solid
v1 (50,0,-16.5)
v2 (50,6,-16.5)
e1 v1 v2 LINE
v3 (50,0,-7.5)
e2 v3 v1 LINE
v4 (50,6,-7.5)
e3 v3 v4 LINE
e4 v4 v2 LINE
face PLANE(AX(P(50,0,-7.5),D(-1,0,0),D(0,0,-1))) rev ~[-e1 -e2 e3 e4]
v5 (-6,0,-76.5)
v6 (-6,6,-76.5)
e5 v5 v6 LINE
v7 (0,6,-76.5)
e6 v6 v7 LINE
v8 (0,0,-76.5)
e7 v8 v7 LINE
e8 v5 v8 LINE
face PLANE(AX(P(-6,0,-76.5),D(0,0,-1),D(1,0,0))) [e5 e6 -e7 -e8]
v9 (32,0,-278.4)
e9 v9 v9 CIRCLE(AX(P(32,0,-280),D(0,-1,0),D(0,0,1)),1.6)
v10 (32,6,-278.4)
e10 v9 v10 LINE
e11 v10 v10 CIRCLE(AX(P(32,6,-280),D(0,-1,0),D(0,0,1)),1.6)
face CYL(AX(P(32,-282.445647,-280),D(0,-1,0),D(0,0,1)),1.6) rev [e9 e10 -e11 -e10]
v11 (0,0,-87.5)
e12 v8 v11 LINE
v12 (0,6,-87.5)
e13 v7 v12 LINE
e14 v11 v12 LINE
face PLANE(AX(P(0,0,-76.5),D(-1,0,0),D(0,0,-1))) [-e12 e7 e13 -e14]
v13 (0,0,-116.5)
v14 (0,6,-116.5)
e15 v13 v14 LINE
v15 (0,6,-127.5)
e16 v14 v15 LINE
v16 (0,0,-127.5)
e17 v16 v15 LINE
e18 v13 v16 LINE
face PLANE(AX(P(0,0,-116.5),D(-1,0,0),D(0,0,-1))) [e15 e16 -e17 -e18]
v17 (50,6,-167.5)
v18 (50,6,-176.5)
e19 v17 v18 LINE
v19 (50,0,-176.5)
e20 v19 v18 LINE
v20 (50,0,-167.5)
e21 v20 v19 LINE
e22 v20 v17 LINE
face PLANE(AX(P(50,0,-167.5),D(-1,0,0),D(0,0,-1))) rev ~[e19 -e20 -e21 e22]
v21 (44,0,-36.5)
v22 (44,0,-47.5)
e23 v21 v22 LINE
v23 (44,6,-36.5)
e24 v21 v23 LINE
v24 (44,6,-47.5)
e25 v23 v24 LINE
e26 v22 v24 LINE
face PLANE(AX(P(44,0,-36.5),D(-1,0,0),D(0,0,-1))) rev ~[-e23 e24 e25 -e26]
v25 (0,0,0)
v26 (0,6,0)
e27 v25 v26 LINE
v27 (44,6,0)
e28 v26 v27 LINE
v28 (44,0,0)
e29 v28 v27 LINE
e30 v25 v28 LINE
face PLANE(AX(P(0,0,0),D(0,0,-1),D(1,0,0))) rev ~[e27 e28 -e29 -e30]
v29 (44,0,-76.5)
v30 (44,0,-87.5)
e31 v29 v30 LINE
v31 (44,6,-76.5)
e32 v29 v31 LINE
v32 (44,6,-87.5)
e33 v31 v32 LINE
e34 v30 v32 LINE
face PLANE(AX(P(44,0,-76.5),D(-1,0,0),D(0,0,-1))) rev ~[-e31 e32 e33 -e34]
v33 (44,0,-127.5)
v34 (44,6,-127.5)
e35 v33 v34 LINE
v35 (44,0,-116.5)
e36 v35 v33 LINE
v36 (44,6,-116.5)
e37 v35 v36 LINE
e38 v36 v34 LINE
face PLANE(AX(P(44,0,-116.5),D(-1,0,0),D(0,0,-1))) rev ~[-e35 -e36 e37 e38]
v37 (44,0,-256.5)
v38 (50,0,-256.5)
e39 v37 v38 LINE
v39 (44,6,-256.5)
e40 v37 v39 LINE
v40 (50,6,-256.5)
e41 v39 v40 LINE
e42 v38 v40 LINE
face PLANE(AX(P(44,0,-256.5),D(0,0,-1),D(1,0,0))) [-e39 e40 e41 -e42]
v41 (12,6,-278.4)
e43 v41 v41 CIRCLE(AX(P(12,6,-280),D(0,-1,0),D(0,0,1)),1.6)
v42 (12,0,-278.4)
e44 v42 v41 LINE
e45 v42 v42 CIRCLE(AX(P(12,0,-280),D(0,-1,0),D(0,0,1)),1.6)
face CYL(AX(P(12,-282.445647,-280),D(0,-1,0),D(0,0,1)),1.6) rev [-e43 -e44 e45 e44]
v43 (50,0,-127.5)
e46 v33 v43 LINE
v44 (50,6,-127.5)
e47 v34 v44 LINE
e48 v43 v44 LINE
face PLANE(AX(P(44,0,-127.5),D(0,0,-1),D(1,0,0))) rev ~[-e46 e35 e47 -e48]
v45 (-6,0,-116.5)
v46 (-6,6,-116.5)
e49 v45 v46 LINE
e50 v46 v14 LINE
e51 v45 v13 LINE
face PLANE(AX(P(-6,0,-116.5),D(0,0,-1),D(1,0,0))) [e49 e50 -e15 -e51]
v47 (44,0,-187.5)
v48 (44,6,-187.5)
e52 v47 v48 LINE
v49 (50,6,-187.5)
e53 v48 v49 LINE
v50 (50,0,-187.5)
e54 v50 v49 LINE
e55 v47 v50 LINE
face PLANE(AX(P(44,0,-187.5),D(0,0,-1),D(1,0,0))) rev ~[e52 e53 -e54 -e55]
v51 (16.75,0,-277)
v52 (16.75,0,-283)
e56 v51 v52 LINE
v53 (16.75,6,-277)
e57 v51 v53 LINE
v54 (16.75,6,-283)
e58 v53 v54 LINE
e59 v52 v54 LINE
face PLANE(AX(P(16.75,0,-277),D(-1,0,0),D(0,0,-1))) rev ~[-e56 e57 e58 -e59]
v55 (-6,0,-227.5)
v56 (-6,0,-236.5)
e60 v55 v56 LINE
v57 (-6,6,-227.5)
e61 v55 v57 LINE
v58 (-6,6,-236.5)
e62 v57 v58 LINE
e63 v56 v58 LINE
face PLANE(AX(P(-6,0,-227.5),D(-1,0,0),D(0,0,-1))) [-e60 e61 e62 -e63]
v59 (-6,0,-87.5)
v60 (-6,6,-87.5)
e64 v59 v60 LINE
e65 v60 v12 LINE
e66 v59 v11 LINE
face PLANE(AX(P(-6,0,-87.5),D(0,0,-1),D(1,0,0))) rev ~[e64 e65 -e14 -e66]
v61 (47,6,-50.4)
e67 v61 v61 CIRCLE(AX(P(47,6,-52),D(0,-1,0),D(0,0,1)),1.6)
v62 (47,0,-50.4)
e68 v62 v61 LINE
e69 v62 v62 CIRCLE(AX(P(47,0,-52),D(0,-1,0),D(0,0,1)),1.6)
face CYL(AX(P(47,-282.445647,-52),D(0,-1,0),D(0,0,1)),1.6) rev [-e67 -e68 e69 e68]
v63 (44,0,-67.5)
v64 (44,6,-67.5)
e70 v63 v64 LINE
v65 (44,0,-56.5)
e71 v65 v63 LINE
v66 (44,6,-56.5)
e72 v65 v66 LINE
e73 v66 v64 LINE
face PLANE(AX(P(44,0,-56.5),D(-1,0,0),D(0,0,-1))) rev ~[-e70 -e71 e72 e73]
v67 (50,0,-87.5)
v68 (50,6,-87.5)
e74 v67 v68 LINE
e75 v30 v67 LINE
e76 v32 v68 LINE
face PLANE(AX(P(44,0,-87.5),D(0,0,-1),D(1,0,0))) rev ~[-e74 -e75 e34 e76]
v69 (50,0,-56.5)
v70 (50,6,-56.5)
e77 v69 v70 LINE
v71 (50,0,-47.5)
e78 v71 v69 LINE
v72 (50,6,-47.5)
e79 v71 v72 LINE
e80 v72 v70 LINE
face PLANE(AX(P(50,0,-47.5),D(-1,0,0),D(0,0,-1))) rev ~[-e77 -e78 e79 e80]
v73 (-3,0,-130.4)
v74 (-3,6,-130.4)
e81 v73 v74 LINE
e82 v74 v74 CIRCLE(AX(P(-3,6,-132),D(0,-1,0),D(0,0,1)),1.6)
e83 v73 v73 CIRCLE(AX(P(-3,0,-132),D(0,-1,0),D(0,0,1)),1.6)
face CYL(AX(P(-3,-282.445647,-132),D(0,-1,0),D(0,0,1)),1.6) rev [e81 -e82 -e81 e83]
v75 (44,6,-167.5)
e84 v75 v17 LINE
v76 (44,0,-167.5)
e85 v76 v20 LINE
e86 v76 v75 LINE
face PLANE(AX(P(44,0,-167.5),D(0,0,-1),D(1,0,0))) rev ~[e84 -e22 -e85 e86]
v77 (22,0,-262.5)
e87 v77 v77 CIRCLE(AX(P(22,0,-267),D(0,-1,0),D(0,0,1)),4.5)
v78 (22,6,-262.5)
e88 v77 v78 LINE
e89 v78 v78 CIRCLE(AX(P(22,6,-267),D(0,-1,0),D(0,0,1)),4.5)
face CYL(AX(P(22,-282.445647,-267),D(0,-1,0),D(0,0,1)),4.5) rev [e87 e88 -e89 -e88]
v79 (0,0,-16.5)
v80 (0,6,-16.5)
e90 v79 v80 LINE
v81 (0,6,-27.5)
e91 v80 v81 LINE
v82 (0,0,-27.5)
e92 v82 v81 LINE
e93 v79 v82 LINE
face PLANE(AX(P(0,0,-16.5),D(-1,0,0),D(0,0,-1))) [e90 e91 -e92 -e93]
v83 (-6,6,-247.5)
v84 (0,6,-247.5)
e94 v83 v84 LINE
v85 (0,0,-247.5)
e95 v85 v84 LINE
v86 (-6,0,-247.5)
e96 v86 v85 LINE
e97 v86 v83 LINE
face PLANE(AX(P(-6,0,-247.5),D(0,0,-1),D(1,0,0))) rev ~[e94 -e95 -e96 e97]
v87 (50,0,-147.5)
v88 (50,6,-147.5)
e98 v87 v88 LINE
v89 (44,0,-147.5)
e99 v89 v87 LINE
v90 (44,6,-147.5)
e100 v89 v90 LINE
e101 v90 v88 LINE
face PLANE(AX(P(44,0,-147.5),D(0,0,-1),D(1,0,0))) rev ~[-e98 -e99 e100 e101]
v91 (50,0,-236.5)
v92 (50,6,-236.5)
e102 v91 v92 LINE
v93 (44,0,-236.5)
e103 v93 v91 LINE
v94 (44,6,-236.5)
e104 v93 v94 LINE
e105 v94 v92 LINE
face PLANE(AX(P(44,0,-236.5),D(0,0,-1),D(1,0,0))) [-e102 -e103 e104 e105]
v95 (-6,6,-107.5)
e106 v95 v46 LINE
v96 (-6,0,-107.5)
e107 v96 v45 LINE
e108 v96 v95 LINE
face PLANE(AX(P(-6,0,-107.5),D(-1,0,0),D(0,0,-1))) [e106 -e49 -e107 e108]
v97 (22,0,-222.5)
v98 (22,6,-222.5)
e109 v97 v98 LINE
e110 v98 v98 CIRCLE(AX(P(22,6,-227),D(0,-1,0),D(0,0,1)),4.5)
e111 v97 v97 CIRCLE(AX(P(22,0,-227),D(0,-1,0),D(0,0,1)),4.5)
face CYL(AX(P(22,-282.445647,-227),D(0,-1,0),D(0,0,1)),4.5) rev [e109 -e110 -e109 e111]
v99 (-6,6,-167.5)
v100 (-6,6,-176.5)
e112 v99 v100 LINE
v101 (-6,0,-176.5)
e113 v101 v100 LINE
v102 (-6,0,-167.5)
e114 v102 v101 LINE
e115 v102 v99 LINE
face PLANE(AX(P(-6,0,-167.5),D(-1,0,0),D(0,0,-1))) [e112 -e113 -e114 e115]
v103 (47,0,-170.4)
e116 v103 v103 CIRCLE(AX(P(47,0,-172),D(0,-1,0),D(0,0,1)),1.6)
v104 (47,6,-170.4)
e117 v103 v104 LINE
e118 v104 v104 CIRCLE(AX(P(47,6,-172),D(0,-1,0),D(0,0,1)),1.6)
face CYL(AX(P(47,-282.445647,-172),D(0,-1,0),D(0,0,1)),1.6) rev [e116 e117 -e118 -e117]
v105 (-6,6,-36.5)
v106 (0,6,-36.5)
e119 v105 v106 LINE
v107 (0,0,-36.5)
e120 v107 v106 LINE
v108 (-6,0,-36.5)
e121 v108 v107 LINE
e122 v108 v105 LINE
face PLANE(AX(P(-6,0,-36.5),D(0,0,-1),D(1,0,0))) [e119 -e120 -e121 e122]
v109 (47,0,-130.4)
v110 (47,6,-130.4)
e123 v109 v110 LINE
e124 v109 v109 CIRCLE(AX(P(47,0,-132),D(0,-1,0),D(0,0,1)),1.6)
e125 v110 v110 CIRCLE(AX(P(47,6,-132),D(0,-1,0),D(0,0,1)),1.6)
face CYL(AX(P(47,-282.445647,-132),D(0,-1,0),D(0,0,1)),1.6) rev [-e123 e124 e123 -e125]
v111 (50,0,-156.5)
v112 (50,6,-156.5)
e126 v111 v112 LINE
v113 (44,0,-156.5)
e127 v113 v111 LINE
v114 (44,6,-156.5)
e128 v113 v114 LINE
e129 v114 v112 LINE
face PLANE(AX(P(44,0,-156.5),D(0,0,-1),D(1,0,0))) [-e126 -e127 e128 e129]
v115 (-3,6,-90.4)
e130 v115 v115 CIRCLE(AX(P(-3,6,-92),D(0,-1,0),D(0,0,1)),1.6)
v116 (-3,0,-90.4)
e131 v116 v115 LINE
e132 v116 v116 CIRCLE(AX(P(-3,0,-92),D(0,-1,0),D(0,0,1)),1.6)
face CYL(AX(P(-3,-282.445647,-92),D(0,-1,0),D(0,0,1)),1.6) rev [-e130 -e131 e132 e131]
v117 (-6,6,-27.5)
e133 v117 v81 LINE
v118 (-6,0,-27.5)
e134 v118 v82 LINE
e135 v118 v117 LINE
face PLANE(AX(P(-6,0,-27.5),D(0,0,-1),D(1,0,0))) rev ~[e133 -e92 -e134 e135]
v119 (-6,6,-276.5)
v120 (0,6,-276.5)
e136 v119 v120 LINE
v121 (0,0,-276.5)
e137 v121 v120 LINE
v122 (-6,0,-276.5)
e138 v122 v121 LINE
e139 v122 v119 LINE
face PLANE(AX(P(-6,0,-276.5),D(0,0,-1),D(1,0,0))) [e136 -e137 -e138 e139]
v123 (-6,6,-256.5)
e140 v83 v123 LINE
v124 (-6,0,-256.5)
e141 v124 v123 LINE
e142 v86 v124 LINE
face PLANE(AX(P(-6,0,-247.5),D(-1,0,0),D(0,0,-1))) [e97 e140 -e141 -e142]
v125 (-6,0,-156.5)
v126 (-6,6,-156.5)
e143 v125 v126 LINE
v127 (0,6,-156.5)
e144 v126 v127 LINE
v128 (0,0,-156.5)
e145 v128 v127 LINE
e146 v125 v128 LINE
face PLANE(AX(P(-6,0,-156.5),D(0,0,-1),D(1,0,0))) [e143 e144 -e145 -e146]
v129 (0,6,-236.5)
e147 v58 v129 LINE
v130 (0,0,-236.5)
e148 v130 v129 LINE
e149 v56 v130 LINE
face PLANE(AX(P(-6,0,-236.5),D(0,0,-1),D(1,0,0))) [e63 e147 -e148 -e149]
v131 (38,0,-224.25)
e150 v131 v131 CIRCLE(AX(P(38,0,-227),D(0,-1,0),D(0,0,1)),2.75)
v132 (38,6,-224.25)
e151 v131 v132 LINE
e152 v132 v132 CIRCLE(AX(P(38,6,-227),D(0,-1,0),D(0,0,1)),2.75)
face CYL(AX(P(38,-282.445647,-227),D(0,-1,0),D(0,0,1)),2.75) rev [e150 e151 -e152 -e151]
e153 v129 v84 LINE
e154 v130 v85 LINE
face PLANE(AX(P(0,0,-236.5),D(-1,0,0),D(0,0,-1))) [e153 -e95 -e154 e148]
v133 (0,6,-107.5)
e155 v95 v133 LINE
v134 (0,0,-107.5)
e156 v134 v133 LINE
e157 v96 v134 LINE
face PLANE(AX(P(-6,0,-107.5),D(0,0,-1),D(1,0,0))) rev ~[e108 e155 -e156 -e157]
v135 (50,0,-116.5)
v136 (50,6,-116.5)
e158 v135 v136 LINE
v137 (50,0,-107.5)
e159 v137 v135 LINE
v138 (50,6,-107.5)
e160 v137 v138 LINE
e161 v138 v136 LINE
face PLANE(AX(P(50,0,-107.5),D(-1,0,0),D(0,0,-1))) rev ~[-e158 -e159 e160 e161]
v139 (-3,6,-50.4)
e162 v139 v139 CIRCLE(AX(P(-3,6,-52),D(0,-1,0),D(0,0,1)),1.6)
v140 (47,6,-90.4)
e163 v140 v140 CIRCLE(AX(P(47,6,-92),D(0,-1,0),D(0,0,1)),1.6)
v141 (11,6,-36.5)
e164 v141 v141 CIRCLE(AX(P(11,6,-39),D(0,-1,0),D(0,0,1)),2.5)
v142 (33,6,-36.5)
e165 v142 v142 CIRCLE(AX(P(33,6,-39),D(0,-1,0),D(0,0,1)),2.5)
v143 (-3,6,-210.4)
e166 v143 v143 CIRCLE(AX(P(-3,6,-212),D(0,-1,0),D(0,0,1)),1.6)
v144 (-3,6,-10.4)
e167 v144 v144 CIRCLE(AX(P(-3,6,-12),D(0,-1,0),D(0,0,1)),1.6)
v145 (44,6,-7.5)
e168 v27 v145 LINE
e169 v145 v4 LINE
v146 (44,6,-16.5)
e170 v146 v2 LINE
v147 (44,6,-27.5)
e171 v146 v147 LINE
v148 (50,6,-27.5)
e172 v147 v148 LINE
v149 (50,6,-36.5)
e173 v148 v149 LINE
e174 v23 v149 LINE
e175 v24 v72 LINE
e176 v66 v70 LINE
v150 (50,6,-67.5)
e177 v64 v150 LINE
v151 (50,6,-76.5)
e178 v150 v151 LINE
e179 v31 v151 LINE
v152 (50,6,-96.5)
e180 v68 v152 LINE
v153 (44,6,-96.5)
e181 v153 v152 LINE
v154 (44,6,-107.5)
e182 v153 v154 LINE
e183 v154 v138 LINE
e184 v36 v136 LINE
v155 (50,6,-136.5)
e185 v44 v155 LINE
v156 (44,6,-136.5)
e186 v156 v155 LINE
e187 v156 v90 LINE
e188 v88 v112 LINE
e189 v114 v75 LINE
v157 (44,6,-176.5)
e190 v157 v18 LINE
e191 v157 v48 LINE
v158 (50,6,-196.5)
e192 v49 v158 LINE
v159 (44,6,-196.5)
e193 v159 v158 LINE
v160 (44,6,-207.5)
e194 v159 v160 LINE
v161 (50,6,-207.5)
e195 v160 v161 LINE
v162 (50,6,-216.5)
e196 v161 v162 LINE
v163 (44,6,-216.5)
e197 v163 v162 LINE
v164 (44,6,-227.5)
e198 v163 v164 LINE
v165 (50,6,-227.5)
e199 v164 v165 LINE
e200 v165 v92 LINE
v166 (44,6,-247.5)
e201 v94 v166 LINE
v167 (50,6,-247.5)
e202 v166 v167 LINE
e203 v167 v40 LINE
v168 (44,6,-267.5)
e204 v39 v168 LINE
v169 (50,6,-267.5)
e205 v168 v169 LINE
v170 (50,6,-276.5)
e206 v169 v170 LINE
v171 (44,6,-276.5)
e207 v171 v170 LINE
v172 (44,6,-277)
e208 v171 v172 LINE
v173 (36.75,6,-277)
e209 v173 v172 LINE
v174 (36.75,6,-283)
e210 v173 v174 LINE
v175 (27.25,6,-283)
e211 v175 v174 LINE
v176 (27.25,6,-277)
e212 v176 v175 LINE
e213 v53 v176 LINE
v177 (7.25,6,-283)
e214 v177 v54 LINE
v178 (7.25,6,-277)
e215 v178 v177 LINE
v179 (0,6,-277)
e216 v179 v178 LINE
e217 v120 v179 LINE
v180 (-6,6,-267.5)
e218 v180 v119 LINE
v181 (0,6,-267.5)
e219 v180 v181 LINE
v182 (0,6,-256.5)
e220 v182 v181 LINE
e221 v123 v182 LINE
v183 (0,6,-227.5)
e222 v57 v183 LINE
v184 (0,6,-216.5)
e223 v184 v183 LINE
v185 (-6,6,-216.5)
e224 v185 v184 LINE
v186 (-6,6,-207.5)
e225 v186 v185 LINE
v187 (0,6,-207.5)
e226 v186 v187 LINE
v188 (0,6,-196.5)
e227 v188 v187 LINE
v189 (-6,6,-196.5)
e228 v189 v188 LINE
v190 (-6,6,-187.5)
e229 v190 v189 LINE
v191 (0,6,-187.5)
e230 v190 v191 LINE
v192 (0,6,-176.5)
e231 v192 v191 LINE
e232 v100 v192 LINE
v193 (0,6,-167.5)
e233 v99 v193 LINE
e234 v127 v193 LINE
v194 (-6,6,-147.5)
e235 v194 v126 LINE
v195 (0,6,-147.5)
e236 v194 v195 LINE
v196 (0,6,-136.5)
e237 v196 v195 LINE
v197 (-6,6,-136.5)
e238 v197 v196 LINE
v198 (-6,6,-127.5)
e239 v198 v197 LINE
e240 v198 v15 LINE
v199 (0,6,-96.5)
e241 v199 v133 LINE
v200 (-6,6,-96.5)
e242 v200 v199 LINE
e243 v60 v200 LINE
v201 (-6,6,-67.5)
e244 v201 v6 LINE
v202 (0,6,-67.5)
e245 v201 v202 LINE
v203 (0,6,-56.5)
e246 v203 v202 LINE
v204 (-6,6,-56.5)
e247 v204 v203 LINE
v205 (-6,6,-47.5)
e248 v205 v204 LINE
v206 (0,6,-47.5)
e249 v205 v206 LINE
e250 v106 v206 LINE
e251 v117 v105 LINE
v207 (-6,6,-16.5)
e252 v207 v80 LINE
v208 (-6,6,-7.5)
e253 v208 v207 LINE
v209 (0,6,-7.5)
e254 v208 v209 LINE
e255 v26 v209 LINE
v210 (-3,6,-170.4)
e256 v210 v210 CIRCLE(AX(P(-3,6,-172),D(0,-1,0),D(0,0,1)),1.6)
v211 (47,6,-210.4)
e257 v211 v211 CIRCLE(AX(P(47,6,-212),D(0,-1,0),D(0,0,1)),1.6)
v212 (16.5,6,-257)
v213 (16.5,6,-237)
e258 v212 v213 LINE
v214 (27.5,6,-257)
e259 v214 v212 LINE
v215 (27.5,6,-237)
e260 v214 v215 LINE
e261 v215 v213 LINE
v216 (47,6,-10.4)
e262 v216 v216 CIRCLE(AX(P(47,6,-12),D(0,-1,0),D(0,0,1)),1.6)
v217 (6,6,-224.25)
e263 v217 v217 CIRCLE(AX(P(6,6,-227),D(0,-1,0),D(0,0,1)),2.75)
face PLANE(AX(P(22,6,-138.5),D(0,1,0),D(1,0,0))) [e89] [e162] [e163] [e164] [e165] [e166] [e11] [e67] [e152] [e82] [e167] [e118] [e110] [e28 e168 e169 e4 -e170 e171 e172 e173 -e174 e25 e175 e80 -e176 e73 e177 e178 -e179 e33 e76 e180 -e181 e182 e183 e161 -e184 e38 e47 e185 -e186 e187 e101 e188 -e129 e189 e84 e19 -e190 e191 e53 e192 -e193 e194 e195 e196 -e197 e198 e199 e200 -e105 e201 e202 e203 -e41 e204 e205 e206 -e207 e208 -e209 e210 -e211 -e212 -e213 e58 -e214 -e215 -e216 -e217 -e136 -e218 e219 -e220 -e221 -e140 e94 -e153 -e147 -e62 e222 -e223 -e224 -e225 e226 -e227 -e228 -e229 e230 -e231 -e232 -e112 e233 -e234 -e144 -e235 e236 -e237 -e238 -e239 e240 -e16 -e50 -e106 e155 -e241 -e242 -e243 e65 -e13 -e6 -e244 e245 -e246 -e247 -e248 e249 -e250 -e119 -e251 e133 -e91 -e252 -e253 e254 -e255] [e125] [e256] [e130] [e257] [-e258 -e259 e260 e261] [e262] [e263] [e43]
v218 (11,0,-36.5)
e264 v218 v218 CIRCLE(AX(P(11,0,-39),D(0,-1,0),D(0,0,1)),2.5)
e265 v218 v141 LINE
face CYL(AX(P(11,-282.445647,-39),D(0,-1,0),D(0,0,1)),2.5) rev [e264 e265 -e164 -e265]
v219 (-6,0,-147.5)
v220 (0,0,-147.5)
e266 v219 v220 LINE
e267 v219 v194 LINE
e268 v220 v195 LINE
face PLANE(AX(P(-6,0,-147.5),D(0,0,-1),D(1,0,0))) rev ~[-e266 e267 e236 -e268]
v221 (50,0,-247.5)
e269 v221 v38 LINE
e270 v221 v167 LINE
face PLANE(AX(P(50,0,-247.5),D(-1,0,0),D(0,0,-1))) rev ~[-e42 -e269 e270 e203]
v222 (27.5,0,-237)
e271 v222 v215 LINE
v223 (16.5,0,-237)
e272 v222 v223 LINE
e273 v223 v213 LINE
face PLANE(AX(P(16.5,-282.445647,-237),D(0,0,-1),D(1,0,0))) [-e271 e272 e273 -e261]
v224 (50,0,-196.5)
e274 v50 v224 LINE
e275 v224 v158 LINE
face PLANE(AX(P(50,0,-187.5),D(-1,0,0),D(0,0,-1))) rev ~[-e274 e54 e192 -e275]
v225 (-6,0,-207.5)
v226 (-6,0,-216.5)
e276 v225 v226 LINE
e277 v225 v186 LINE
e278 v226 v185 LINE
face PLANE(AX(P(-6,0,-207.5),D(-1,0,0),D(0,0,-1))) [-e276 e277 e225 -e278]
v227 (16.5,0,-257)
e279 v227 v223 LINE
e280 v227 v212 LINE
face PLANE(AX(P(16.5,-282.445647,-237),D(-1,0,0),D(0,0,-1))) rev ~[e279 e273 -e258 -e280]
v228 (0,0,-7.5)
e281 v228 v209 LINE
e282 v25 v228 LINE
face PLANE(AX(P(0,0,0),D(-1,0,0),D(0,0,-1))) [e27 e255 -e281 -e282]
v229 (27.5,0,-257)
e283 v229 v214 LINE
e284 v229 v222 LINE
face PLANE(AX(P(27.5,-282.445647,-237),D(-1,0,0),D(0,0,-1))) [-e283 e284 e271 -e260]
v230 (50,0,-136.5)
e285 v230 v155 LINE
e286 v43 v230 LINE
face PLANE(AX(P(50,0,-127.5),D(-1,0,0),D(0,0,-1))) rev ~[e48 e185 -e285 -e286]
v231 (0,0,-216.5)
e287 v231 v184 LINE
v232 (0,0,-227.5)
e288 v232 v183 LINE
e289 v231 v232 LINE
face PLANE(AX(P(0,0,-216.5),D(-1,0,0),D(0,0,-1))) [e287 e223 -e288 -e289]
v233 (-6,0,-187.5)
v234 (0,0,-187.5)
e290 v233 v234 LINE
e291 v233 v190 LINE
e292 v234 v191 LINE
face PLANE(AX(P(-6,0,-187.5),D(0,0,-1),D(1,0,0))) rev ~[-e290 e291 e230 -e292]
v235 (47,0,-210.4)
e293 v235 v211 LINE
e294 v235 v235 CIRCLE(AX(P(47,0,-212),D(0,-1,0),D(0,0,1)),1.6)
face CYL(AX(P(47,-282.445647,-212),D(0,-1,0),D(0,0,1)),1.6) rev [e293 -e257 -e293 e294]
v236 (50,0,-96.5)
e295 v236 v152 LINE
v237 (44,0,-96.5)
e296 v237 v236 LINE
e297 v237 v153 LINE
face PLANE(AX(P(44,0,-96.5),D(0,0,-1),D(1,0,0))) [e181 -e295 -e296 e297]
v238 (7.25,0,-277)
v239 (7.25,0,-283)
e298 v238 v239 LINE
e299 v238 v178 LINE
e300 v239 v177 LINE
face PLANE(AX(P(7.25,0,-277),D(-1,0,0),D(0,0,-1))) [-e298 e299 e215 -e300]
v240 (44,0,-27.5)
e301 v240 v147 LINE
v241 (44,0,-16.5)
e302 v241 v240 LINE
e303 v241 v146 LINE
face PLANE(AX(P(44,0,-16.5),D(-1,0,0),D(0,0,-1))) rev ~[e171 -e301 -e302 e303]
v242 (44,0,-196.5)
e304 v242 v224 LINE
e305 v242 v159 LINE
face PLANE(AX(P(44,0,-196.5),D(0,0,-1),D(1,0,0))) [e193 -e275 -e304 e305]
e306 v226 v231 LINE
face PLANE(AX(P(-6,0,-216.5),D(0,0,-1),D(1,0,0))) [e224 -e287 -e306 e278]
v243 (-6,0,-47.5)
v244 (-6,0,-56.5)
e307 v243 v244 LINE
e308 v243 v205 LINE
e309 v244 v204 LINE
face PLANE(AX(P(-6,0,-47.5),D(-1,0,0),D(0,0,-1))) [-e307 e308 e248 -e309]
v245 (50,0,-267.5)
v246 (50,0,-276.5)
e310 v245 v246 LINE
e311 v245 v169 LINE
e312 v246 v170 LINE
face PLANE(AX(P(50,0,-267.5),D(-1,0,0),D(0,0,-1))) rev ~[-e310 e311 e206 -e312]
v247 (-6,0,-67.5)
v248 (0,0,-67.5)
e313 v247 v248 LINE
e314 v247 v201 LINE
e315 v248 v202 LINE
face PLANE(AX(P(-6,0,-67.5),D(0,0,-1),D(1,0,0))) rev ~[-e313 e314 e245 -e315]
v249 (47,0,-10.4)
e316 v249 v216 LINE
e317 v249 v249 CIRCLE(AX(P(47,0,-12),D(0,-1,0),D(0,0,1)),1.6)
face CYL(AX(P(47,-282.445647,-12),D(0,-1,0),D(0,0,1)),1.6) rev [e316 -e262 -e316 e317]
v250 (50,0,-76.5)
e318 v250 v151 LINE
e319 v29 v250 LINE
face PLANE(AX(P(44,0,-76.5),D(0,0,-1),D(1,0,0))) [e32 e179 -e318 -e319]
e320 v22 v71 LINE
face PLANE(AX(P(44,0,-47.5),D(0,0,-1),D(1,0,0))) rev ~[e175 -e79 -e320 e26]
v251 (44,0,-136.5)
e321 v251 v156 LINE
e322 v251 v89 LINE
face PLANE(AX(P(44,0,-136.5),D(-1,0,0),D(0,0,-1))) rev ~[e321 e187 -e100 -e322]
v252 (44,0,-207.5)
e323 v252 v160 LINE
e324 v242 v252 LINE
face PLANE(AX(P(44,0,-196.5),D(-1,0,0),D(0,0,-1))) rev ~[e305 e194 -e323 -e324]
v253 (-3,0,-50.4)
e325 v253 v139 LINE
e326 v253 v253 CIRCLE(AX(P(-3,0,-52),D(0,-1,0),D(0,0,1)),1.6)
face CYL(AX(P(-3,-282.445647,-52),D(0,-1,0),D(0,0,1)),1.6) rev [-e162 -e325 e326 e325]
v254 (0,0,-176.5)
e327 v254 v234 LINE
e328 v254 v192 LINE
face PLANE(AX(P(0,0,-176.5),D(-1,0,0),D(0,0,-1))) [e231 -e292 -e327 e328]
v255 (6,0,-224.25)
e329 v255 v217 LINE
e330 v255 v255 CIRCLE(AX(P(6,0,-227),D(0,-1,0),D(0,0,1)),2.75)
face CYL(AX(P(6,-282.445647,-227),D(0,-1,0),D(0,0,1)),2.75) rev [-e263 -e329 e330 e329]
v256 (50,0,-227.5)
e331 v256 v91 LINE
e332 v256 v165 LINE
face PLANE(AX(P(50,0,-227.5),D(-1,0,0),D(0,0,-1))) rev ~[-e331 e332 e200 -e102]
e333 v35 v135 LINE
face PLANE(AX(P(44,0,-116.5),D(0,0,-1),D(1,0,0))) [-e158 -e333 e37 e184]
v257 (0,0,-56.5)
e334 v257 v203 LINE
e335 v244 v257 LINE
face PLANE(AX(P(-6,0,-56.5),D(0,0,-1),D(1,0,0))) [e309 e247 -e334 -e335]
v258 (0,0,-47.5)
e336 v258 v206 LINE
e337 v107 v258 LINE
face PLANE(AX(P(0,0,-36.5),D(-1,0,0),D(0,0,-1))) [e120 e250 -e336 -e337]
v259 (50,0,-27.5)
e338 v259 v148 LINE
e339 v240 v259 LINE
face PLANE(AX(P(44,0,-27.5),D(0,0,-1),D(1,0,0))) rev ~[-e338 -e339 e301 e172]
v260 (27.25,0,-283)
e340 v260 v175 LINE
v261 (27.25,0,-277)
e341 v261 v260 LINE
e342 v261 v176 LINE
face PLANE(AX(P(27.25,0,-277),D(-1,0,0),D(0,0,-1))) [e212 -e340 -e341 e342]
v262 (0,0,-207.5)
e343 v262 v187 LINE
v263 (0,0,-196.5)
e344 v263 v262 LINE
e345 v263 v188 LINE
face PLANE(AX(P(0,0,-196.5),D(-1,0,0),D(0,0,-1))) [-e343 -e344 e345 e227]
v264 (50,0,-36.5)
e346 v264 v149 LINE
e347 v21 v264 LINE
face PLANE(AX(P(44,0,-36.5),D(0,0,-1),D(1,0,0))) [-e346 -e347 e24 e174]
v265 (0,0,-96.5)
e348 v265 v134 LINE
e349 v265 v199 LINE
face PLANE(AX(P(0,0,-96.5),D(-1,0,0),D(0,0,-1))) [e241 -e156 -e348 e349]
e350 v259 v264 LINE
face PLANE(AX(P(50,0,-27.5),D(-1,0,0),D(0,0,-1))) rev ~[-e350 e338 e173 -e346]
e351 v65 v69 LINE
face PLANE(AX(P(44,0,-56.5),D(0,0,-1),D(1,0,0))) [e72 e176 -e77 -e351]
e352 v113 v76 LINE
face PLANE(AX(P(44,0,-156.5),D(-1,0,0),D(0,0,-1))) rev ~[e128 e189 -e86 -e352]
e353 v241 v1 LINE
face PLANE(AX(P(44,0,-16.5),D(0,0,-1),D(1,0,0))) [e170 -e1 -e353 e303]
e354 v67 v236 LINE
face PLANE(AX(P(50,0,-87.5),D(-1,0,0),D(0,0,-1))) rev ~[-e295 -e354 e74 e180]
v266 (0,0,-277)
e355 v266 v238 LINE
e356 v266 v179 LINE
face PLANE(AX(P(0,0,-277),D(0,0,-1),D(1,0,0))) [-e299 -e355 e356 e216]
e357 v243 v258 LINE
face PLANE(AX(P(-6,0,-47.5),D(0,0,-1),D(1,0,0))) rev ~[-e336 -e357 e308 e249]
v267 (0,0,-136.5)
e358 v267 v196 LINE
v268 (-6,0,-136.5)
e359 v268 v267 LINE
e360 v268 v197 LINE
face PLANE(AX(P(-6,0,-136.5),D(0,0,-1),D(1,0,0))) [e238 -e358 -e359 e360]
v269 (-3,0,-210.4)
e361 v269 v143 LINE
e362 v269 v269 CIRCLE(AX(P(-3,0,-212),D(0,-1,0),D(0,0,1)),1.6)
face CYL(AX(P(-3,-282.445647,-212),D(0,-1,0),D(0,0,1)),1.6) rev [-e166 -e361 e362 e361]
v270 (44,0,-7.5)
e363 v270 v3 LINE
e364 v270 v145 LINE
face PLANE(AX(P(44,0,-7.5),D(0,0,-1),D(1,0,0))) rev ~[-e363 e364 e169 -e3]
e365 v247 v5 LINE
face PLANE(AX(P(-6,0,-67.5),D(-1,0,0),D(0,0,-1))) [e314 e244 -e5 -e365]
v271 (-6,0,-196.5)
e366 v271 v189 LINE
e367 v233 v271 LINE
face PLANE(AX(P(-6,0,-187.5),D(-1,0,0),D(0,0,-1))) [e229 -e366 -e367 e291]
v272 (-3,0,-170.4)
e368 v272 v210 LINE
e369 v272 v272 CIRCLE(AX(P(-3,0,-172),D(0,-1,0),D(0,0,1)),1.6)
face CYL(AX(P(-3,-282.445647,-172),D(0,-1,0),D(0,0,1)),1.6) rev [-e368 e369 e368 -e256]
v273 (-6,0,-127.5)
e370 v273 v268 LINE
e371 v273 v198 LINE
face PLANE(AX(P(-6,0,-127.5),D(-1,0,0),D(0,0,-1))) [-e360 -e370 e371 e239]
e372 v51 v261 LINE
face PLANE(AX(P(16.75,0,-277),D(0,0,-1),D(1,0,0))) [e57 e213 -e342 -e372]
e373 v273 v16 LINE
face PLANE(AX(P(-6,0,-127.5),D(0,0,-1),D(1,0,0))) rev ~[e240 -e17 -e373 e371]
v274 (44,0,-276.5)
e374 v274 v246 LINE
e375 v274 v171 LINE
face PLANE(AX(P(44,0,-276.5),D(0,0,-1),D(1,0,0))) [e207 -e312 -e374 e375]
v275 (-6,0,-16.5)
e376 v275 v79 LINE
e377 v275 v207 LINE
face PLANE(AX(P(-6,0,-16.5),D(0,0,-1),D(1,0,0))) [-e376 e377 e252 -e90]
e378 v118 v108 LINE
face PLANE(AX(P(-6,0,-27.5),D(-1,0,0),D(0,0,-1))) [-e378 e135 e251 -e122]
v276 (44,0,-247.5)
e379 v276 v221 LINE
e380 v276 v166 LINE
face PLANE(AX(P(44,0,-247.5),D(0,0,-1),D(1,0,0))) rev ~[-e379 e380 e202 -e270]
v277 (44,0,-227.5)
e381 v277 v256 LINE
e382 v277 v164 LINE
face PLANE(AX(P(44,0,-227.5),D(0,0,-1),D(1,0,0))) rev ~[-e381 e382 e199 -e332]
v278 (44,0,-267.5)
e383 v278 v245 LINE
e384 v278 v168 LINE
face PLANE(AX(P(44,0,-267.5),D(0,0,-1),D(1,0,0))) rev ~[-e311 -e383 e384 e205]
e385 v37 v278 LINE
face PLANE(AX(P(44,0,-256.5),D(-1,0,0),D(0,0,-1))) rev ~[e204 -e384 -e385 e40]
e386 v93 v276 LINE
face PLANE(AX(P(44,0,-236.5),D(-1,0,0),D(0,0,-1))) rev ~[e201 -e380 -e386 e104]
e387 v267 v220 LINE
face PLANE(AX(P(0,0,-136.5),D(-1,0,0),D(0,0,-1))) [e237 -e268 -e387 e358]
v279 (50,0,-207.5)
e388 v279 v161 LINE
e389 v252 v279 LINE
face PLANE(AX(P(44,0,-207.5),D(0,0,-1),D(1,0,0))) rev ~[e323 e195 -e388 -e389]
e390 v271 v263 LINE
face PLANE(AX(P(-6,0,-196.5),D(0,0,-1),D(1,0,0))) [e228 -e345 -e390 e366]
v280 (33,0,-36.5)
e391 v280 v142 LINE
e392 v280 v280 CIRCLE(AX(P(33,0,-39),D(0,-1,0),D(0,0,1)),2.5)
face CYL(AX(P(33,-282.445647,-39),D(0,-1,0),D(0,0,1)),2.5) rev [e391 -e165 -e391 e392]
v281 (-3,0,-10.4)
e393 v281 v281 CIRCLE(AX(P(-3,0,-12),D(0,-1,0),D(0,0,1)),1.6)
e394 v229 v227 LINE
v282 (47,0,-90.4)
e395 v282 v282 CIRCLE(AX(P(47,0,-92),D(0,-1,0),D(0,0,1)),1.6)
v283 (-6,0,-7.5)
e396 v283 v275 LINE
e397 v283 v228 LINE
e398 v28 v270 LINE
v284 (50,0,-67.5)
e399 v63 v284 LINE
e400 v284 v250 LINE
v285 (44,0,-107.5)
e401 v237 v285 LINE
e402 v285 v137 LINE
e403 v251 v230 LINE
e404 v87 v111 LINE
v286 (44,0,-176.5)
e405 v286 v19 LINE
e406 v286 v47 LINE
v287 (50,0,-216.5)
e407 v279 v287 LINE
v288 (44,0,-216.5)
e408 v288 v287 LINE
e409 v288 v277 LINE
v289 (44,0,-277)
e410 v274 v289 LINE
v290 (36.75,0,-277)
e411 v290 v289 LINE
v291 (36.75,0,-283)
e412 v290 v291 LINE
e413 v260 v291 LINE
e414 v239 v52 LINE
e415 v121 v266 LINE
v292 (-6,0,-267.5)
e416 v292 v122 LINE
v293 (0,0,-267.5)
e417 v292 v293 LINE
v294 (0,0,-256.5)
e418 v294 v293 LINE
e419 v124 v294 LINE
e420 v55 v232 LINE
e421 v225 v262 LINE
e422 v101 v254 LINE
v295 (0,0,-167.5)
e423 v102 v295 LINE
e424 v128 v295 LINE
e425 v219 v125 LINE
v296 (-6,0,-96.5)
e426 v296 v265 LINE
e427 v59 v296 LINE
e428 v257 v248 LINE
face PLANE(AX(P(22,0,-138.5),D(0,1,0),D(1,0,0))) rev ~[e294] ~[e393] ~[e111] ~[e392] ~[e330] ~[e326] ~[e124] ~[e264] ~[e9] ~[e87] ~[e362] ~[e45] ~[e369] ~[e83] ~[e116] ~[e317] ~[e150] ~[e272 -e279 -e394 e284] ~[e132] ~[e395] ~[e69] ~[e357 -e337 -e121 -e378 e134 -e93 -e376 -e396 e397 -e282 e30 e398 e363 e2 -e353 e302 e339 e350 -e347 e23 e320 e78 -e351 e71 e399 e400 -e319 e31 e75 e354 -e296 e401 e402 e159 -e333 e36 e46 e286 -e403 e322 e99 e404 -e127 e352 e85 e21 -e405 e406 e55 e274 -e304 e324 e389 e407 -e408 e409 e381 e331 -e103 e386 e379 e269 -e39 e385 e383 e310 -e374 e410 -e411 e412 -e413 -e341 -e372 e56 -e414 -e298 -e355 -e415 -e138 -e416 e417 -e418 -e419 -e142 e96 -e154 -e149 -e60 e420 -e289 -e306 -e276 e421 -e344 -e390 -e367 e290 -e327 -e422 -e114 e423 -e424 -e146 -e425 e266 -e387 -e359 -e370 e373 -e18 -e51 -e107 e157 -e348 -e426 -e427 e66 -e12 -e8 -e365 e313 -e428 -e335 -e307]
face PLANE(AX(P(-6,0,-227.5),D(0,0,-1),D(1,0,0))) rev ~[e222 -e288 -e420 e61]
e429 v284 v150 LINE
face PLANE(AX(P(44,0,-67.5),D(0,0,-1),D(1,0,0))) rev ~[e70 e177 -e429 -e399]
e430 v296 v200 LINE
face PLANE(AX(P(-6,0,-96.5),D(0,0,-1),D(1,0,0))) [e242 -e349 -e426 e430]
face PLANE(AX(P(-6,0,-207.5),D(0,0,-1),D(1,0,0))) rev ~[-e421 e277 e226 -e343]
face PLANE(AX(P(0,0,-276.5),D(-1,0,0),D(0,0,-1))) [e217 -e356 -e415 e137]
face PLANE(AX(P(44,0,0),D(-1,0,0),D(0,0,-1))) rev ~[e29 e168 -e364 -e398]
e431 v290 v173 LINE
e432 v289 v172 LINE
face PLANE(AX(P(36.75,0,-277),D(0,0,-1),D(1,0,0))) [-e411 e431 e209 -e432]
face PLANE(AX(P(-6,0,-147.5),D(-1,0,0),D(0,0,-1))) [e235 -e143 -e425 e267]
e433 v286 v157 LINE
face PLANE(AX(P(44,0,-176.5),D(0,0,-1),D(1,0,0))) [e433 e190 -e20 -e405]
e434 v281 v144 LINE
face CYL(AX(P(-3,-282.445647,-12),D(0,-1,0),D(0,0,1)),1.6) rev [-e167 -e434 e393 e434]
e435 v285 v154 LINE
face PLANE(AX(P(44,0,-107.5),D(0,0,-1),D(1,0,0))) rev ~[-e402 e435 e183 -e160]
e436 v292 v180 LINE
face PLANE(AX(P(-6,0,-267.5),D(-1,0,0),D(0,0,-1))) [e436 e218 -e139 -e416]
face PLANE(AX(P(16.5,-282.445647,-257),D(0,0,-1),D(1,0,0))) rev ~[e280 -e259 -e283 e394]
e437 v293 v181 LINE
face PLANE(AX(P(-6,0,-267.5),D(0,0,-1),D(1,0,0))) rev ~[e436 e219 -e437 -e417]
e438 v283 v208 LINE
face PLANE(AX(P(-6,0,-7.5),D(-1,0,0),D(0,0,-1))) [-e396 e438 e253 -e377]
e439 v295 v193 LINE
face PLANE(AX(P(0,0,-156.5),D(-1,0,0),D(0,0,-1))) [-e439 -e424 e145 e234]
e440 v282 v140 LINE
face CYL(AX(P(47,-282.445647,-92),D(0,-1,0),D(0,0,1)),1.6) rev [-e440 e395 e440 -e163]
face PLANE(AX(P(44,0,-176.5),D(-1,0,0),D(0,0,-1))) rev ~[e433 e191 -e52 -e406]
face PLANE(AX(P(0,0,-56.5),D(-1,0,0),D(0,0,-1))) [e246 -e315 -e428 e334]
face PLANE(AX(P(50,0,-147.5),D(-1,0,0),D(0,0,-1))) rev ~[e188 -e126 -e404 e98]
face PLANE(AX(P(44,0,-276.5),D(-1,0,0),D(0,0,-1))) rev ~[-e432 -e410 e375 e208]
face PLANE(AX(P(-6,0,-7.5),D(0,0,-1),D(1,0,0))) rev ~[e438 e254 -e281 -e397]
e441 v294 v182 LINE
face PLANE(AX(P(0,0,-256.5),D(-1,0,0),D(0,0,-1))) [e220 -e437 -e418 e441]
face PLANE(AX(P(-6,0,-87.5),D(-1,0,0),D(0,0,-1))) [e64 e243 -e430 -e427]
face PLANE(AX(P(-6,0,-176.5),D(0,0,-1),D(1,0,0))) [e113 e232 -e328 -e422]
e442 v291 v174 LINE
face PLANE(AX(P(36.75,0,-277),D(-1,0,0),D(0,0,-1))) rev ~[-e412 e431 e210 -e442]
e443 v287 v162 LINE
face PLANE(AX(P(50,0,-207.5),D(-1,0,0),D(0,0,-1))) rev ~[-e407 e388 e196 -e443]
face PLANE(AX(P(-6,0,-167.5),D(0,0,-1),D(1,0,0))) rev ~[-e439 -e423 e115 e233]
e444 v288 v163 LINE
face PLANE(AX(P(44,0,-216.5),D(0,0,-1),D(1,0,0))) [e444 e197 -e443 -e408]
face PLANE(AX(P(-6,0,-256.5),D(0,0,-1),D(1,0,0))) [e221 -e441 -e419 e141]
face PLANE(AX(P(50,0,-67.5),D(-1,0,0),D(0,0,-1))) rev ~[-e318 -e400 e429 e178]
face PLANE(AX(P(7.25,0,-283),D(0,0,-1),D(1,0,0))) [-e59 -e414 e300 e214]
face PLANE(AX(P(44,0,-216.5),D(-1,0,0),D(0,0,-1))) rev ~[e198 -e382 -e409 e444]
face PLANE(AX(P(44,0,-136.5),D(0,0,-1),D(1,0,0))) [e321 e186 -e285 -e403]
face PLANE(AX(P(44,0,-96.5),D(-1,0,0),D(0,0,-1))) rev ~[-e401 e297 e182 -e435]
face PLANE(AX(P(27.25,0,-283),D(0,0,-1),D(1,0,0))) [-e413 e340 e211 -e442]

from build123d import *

# Parameters (mm, degrees)
SKETCH1_W               = 44
SKETCH1_H               = 277
SKETCH1_W_2             = 6
SKETCH1_H_2             = 9
SKETCH1_W_3             = 9.5
SKETCH1_H_3             = 6
BOSS_EXTRUDE1_DEPTH     = 6
CUT_EXTRUDE1_DEPTH      = 288.445647036
CUT_EXTRUDE1_DEPTH_BACK = 288.445647036
SKETCH2_R               = 4.5
SKETCH2_R_2             = 2.75
SKETCH2_W               = 11
SKETCH2_H               = 20
CUT_EXTRUDE3_DEPTH      = 288.445647036
CUT_EXTRUDE3_DEPTH_BACK = 288.445647036
SKETCH4_R               = 2.5
CUT_EXTRUDE4_DEPTH      = 288.445647036
CUT_EXTRUDE4_DEPTH_BACK = 288.445647036
SKETCH5_R               = 1.6


with BuildPart() as part:
    # Sketch1 → Boss-Extrude1 (new body)
    with BuildSketch(Plane(origin=(0, 0, 0), x_dir=(1, 0, 0), z_dir=(0, 1, 0))):
        with Locations((22, 138.5)):
            Rectangle(SKETCH1_W, SKETCH1_H)
        with Locations((-3, 12)):
            Rectangle(SKETCH1_W_2, SKETCH1_H_2)
        with Locations((-3, 32)):
            Rectangle(SKETCH1_W_2, SKETCH1_H_2)
        with Locations((-3, 52)):
            Rectangle(SKETCH1_W_2, SKETCH1_H_2)
        with Locations((-3, 72)):
            Rectangle(SKETCH1_W_2, SKETCH1_H_2)
        with Locations((-3, 92)):
            Rectangle(SKETCH1_W_2, SKETCH1_H_2)
        with Locations((-3, 112)):
            Rectangle(SKETCH1_W_2, SKETCH1_H_2)
        with Locations((-3, 132)):
            Rectangle(SKETCH1_W_2, SKETCH1_H_2)
        with Locations((-3, 152)):
            Rectangle(SKETCH1_W_2, SKETCH1_H_2)
        with Locations((-3, 172)):
            Rectangle(SKETCH1_W_2, SKETCH1_H_2)
        with Locations((-3, 192)):
            Rectangle(SKETCH1_W_2, SKETCH1_H_2)
        with Locations((-3, 212)):
            Rectangle(SKETCH1_W_2, SKETCH1_H_2)
        with Locations((-3, 232)):
            Rectangle(SKETCH1_W_2, SKETCH1_H_2)
        with Locations((-3, 252)):
            Rectangle(SKETCH1_W_2, SKETCH1_H_2)
        with Locations((-3, 272)):
            Rectangle(SKETCH1_W_2, SKETCH1_H_2)
        with Locations((12, 280)):
            Rectangle(SKETCH1_W_3, SKETCH1_H_3)
        with Locations((32, 280)):
            Rectangle(SKETCH1_W_3, SKETCH1_H_3)
        with Locations((47, 272)):
            Rectangle(SKETCH1_W_2, SKETCH1_H_2)
        with Locations((47, 252)):
            Rectangle(SKETCH1_W_2, SKETCH1_H_2)
        with Locations((47, 232)):
            Rectangle(SKETCH1_W_2, SKETCH1_H_2)
        with Locations((47, 212)):
            Rectangle(SKETCH1_W_2, SKETCH1_H_2)
        with Locations((47, 192)):
            Rectangle(SKETCH1_W_2, SKETCH1_H_2)
        with Locations((47, 172)):
            Rectangle(SKETCH1_W_2, SKETCH1_H_2)
        with Locations((47, 152)):
            Rectangle(SKETCH1_W_2, SKETCH1_H_2)
        with Locations((47, 132)):
            Rectangle(SKETCH1_W_2, SKETCH1_H_2)
        with Locations((47, 112)):
            Rectangle(SKETCH1_W_2, SKETCH1_H_2)
        with Locations((47, 92)):
            Rectangle(SKETCH1_W_2, SKETCH1_H_2)
        with Locations((47, 72)):
            Rectangle(SKETCH1_W_2, SKETCH1_H_2)
        with Locations((47, 52)):
            Rectangle(SKETCH1_W_2, SKETCH1_H_2)
        with Locations((47, 32)):
            Rectangle(SKETCH1_W_2, SKETCH1_H_2)
        with Locations((47, 12)):
            Rectangle(SKETCH1_W_2, SKETCH1_H_2)
    extrude(amount=BOSS_EXTRUDE1_DEPTH)

    # Sketch2 → Cut-Extrude1 (cut, two sides: drawn at the far end of the back side and taken through both)
    with BuildSketch(Plane(origin=(0, 6, 0), x_dir=(1, 0, 0), z_dir=(0, 1, 0)).offset(-CUT_EXTRUDE1_DEPTH_BACK)):
        with Locations(Location((22, 267, 0), (0, 0, 270))):
            Circle(SKETCH2_R)
        with Locations(Location((22, 227, 0), (0, 0, 270))):
            Circle(SKETCH2_R)
        with Locations(Location((6, 227, 0), (0, 0, 270))):
            Circle(SKETCH2_R_2)
        with Locations(Location((38, 227, 0), (0, 0, 270))):
            Circle(SKETCH2_R_2)
        with Locations((22, 247)):
            Rectangle(SKETCH2_W, SKETCH2_H)
    extrude(amount=CUT_EXTRUDE1_DEPTH + CUT_EXTRUDE1_DEPTH_BACK, mode=Mode.SUBTRACT)

    # Sketch4 → Cut-Extrude3 (cut, two sides: drawn at the far end of the back side and taken through both)
    with BuildSketch(Plane(origin=(0, 6, 0), x_dir=(1, 0, 0), z_dir=(0, 1, 0)).offset(-CUT_EXTRUDE3_DEPTH_BACK)):
        with Locations(Location((33, 39, 0), (0, 0, 270))):
            Circle(SKETCH4_R)
        with Locations(Location((11, 39, 0), (0, 0, 270))):
            Circle(SKETCH4_R)
    extrude(amount=CUT_EXTRUDE3_DEPTH + CUT_EXTRUDE3_DEPTH_BACK, mode=Mode.SUBTRACT)

    # Sketch5 → Cut-Extrude4 (cut, two sides: drawn at the far end of the back side and taken through both)
    with BuildSketch(Plane(origin=(0, 6, 0), x_dir=(1, 0, 0), z_dir=(0, 1, 0)).offset(-CUT_EXTRUDE4_DEPTH_BACK)):
        with Locations(Location((-3, 12, 0), (0, 0, 270))):
            Circle(SKETCH5_R)
        with Locations(Location((47, 12, 0), (0, 0, 270))):
            Circle(SKETCH5_R)
        with Locations(Location((47, 52, 0), (0, 0, 270))):
            Circle(SKETCH5_R)
        with Locations(Location((47, 92, 0), (0, 0, 270))):
            Circle(SKETCH5_R)
        with Locations(Location((47, 132, 0), (0, 0, 270))):
            Circle(SKETCH5_R)
        with Locations(Location((47, 172, 0), (0, 0, 270))):
            Circle(SKETCH5_R)
        with Locations(Location((47, 212, 0), (0, 0, 270))):
            Circle(SKETCH5_R)
        with Locations(Location((-3, 52, 0), (0, 0, 270))):
            Circle(SKETCH5_R)
        with Locations(Location((-3, 92, 0), (0, 0, 270))):
            Circle(SKETCH5_R)
        with Locations(Location((-3, 132, 0), (0, 0, 270))):
            Circle(SKETCH5_R)
        with Locations(Location((-3, 172, 0), (0, 0, 270))):
            Circle(SKETCH5_R)
        with Locations(Location((-3, 212, 0), (0, 0, 270))):
            Circle(SKETCH5_R)
        with Locations(Location((32, 280, 0), (0, 0, 270))):
            Circle(SKETCH5_R)
        with Locations(Location((12, 280, 0), (0, 0, 270))):
            Circle(SKETCH5_R)
    extrude(amount=CUT_EXTRUDE4_DEPTH + CUT_EXTRUDE4_DEPTH_BACK, mode=Mode.SUBTRACT)


solid = part.part
